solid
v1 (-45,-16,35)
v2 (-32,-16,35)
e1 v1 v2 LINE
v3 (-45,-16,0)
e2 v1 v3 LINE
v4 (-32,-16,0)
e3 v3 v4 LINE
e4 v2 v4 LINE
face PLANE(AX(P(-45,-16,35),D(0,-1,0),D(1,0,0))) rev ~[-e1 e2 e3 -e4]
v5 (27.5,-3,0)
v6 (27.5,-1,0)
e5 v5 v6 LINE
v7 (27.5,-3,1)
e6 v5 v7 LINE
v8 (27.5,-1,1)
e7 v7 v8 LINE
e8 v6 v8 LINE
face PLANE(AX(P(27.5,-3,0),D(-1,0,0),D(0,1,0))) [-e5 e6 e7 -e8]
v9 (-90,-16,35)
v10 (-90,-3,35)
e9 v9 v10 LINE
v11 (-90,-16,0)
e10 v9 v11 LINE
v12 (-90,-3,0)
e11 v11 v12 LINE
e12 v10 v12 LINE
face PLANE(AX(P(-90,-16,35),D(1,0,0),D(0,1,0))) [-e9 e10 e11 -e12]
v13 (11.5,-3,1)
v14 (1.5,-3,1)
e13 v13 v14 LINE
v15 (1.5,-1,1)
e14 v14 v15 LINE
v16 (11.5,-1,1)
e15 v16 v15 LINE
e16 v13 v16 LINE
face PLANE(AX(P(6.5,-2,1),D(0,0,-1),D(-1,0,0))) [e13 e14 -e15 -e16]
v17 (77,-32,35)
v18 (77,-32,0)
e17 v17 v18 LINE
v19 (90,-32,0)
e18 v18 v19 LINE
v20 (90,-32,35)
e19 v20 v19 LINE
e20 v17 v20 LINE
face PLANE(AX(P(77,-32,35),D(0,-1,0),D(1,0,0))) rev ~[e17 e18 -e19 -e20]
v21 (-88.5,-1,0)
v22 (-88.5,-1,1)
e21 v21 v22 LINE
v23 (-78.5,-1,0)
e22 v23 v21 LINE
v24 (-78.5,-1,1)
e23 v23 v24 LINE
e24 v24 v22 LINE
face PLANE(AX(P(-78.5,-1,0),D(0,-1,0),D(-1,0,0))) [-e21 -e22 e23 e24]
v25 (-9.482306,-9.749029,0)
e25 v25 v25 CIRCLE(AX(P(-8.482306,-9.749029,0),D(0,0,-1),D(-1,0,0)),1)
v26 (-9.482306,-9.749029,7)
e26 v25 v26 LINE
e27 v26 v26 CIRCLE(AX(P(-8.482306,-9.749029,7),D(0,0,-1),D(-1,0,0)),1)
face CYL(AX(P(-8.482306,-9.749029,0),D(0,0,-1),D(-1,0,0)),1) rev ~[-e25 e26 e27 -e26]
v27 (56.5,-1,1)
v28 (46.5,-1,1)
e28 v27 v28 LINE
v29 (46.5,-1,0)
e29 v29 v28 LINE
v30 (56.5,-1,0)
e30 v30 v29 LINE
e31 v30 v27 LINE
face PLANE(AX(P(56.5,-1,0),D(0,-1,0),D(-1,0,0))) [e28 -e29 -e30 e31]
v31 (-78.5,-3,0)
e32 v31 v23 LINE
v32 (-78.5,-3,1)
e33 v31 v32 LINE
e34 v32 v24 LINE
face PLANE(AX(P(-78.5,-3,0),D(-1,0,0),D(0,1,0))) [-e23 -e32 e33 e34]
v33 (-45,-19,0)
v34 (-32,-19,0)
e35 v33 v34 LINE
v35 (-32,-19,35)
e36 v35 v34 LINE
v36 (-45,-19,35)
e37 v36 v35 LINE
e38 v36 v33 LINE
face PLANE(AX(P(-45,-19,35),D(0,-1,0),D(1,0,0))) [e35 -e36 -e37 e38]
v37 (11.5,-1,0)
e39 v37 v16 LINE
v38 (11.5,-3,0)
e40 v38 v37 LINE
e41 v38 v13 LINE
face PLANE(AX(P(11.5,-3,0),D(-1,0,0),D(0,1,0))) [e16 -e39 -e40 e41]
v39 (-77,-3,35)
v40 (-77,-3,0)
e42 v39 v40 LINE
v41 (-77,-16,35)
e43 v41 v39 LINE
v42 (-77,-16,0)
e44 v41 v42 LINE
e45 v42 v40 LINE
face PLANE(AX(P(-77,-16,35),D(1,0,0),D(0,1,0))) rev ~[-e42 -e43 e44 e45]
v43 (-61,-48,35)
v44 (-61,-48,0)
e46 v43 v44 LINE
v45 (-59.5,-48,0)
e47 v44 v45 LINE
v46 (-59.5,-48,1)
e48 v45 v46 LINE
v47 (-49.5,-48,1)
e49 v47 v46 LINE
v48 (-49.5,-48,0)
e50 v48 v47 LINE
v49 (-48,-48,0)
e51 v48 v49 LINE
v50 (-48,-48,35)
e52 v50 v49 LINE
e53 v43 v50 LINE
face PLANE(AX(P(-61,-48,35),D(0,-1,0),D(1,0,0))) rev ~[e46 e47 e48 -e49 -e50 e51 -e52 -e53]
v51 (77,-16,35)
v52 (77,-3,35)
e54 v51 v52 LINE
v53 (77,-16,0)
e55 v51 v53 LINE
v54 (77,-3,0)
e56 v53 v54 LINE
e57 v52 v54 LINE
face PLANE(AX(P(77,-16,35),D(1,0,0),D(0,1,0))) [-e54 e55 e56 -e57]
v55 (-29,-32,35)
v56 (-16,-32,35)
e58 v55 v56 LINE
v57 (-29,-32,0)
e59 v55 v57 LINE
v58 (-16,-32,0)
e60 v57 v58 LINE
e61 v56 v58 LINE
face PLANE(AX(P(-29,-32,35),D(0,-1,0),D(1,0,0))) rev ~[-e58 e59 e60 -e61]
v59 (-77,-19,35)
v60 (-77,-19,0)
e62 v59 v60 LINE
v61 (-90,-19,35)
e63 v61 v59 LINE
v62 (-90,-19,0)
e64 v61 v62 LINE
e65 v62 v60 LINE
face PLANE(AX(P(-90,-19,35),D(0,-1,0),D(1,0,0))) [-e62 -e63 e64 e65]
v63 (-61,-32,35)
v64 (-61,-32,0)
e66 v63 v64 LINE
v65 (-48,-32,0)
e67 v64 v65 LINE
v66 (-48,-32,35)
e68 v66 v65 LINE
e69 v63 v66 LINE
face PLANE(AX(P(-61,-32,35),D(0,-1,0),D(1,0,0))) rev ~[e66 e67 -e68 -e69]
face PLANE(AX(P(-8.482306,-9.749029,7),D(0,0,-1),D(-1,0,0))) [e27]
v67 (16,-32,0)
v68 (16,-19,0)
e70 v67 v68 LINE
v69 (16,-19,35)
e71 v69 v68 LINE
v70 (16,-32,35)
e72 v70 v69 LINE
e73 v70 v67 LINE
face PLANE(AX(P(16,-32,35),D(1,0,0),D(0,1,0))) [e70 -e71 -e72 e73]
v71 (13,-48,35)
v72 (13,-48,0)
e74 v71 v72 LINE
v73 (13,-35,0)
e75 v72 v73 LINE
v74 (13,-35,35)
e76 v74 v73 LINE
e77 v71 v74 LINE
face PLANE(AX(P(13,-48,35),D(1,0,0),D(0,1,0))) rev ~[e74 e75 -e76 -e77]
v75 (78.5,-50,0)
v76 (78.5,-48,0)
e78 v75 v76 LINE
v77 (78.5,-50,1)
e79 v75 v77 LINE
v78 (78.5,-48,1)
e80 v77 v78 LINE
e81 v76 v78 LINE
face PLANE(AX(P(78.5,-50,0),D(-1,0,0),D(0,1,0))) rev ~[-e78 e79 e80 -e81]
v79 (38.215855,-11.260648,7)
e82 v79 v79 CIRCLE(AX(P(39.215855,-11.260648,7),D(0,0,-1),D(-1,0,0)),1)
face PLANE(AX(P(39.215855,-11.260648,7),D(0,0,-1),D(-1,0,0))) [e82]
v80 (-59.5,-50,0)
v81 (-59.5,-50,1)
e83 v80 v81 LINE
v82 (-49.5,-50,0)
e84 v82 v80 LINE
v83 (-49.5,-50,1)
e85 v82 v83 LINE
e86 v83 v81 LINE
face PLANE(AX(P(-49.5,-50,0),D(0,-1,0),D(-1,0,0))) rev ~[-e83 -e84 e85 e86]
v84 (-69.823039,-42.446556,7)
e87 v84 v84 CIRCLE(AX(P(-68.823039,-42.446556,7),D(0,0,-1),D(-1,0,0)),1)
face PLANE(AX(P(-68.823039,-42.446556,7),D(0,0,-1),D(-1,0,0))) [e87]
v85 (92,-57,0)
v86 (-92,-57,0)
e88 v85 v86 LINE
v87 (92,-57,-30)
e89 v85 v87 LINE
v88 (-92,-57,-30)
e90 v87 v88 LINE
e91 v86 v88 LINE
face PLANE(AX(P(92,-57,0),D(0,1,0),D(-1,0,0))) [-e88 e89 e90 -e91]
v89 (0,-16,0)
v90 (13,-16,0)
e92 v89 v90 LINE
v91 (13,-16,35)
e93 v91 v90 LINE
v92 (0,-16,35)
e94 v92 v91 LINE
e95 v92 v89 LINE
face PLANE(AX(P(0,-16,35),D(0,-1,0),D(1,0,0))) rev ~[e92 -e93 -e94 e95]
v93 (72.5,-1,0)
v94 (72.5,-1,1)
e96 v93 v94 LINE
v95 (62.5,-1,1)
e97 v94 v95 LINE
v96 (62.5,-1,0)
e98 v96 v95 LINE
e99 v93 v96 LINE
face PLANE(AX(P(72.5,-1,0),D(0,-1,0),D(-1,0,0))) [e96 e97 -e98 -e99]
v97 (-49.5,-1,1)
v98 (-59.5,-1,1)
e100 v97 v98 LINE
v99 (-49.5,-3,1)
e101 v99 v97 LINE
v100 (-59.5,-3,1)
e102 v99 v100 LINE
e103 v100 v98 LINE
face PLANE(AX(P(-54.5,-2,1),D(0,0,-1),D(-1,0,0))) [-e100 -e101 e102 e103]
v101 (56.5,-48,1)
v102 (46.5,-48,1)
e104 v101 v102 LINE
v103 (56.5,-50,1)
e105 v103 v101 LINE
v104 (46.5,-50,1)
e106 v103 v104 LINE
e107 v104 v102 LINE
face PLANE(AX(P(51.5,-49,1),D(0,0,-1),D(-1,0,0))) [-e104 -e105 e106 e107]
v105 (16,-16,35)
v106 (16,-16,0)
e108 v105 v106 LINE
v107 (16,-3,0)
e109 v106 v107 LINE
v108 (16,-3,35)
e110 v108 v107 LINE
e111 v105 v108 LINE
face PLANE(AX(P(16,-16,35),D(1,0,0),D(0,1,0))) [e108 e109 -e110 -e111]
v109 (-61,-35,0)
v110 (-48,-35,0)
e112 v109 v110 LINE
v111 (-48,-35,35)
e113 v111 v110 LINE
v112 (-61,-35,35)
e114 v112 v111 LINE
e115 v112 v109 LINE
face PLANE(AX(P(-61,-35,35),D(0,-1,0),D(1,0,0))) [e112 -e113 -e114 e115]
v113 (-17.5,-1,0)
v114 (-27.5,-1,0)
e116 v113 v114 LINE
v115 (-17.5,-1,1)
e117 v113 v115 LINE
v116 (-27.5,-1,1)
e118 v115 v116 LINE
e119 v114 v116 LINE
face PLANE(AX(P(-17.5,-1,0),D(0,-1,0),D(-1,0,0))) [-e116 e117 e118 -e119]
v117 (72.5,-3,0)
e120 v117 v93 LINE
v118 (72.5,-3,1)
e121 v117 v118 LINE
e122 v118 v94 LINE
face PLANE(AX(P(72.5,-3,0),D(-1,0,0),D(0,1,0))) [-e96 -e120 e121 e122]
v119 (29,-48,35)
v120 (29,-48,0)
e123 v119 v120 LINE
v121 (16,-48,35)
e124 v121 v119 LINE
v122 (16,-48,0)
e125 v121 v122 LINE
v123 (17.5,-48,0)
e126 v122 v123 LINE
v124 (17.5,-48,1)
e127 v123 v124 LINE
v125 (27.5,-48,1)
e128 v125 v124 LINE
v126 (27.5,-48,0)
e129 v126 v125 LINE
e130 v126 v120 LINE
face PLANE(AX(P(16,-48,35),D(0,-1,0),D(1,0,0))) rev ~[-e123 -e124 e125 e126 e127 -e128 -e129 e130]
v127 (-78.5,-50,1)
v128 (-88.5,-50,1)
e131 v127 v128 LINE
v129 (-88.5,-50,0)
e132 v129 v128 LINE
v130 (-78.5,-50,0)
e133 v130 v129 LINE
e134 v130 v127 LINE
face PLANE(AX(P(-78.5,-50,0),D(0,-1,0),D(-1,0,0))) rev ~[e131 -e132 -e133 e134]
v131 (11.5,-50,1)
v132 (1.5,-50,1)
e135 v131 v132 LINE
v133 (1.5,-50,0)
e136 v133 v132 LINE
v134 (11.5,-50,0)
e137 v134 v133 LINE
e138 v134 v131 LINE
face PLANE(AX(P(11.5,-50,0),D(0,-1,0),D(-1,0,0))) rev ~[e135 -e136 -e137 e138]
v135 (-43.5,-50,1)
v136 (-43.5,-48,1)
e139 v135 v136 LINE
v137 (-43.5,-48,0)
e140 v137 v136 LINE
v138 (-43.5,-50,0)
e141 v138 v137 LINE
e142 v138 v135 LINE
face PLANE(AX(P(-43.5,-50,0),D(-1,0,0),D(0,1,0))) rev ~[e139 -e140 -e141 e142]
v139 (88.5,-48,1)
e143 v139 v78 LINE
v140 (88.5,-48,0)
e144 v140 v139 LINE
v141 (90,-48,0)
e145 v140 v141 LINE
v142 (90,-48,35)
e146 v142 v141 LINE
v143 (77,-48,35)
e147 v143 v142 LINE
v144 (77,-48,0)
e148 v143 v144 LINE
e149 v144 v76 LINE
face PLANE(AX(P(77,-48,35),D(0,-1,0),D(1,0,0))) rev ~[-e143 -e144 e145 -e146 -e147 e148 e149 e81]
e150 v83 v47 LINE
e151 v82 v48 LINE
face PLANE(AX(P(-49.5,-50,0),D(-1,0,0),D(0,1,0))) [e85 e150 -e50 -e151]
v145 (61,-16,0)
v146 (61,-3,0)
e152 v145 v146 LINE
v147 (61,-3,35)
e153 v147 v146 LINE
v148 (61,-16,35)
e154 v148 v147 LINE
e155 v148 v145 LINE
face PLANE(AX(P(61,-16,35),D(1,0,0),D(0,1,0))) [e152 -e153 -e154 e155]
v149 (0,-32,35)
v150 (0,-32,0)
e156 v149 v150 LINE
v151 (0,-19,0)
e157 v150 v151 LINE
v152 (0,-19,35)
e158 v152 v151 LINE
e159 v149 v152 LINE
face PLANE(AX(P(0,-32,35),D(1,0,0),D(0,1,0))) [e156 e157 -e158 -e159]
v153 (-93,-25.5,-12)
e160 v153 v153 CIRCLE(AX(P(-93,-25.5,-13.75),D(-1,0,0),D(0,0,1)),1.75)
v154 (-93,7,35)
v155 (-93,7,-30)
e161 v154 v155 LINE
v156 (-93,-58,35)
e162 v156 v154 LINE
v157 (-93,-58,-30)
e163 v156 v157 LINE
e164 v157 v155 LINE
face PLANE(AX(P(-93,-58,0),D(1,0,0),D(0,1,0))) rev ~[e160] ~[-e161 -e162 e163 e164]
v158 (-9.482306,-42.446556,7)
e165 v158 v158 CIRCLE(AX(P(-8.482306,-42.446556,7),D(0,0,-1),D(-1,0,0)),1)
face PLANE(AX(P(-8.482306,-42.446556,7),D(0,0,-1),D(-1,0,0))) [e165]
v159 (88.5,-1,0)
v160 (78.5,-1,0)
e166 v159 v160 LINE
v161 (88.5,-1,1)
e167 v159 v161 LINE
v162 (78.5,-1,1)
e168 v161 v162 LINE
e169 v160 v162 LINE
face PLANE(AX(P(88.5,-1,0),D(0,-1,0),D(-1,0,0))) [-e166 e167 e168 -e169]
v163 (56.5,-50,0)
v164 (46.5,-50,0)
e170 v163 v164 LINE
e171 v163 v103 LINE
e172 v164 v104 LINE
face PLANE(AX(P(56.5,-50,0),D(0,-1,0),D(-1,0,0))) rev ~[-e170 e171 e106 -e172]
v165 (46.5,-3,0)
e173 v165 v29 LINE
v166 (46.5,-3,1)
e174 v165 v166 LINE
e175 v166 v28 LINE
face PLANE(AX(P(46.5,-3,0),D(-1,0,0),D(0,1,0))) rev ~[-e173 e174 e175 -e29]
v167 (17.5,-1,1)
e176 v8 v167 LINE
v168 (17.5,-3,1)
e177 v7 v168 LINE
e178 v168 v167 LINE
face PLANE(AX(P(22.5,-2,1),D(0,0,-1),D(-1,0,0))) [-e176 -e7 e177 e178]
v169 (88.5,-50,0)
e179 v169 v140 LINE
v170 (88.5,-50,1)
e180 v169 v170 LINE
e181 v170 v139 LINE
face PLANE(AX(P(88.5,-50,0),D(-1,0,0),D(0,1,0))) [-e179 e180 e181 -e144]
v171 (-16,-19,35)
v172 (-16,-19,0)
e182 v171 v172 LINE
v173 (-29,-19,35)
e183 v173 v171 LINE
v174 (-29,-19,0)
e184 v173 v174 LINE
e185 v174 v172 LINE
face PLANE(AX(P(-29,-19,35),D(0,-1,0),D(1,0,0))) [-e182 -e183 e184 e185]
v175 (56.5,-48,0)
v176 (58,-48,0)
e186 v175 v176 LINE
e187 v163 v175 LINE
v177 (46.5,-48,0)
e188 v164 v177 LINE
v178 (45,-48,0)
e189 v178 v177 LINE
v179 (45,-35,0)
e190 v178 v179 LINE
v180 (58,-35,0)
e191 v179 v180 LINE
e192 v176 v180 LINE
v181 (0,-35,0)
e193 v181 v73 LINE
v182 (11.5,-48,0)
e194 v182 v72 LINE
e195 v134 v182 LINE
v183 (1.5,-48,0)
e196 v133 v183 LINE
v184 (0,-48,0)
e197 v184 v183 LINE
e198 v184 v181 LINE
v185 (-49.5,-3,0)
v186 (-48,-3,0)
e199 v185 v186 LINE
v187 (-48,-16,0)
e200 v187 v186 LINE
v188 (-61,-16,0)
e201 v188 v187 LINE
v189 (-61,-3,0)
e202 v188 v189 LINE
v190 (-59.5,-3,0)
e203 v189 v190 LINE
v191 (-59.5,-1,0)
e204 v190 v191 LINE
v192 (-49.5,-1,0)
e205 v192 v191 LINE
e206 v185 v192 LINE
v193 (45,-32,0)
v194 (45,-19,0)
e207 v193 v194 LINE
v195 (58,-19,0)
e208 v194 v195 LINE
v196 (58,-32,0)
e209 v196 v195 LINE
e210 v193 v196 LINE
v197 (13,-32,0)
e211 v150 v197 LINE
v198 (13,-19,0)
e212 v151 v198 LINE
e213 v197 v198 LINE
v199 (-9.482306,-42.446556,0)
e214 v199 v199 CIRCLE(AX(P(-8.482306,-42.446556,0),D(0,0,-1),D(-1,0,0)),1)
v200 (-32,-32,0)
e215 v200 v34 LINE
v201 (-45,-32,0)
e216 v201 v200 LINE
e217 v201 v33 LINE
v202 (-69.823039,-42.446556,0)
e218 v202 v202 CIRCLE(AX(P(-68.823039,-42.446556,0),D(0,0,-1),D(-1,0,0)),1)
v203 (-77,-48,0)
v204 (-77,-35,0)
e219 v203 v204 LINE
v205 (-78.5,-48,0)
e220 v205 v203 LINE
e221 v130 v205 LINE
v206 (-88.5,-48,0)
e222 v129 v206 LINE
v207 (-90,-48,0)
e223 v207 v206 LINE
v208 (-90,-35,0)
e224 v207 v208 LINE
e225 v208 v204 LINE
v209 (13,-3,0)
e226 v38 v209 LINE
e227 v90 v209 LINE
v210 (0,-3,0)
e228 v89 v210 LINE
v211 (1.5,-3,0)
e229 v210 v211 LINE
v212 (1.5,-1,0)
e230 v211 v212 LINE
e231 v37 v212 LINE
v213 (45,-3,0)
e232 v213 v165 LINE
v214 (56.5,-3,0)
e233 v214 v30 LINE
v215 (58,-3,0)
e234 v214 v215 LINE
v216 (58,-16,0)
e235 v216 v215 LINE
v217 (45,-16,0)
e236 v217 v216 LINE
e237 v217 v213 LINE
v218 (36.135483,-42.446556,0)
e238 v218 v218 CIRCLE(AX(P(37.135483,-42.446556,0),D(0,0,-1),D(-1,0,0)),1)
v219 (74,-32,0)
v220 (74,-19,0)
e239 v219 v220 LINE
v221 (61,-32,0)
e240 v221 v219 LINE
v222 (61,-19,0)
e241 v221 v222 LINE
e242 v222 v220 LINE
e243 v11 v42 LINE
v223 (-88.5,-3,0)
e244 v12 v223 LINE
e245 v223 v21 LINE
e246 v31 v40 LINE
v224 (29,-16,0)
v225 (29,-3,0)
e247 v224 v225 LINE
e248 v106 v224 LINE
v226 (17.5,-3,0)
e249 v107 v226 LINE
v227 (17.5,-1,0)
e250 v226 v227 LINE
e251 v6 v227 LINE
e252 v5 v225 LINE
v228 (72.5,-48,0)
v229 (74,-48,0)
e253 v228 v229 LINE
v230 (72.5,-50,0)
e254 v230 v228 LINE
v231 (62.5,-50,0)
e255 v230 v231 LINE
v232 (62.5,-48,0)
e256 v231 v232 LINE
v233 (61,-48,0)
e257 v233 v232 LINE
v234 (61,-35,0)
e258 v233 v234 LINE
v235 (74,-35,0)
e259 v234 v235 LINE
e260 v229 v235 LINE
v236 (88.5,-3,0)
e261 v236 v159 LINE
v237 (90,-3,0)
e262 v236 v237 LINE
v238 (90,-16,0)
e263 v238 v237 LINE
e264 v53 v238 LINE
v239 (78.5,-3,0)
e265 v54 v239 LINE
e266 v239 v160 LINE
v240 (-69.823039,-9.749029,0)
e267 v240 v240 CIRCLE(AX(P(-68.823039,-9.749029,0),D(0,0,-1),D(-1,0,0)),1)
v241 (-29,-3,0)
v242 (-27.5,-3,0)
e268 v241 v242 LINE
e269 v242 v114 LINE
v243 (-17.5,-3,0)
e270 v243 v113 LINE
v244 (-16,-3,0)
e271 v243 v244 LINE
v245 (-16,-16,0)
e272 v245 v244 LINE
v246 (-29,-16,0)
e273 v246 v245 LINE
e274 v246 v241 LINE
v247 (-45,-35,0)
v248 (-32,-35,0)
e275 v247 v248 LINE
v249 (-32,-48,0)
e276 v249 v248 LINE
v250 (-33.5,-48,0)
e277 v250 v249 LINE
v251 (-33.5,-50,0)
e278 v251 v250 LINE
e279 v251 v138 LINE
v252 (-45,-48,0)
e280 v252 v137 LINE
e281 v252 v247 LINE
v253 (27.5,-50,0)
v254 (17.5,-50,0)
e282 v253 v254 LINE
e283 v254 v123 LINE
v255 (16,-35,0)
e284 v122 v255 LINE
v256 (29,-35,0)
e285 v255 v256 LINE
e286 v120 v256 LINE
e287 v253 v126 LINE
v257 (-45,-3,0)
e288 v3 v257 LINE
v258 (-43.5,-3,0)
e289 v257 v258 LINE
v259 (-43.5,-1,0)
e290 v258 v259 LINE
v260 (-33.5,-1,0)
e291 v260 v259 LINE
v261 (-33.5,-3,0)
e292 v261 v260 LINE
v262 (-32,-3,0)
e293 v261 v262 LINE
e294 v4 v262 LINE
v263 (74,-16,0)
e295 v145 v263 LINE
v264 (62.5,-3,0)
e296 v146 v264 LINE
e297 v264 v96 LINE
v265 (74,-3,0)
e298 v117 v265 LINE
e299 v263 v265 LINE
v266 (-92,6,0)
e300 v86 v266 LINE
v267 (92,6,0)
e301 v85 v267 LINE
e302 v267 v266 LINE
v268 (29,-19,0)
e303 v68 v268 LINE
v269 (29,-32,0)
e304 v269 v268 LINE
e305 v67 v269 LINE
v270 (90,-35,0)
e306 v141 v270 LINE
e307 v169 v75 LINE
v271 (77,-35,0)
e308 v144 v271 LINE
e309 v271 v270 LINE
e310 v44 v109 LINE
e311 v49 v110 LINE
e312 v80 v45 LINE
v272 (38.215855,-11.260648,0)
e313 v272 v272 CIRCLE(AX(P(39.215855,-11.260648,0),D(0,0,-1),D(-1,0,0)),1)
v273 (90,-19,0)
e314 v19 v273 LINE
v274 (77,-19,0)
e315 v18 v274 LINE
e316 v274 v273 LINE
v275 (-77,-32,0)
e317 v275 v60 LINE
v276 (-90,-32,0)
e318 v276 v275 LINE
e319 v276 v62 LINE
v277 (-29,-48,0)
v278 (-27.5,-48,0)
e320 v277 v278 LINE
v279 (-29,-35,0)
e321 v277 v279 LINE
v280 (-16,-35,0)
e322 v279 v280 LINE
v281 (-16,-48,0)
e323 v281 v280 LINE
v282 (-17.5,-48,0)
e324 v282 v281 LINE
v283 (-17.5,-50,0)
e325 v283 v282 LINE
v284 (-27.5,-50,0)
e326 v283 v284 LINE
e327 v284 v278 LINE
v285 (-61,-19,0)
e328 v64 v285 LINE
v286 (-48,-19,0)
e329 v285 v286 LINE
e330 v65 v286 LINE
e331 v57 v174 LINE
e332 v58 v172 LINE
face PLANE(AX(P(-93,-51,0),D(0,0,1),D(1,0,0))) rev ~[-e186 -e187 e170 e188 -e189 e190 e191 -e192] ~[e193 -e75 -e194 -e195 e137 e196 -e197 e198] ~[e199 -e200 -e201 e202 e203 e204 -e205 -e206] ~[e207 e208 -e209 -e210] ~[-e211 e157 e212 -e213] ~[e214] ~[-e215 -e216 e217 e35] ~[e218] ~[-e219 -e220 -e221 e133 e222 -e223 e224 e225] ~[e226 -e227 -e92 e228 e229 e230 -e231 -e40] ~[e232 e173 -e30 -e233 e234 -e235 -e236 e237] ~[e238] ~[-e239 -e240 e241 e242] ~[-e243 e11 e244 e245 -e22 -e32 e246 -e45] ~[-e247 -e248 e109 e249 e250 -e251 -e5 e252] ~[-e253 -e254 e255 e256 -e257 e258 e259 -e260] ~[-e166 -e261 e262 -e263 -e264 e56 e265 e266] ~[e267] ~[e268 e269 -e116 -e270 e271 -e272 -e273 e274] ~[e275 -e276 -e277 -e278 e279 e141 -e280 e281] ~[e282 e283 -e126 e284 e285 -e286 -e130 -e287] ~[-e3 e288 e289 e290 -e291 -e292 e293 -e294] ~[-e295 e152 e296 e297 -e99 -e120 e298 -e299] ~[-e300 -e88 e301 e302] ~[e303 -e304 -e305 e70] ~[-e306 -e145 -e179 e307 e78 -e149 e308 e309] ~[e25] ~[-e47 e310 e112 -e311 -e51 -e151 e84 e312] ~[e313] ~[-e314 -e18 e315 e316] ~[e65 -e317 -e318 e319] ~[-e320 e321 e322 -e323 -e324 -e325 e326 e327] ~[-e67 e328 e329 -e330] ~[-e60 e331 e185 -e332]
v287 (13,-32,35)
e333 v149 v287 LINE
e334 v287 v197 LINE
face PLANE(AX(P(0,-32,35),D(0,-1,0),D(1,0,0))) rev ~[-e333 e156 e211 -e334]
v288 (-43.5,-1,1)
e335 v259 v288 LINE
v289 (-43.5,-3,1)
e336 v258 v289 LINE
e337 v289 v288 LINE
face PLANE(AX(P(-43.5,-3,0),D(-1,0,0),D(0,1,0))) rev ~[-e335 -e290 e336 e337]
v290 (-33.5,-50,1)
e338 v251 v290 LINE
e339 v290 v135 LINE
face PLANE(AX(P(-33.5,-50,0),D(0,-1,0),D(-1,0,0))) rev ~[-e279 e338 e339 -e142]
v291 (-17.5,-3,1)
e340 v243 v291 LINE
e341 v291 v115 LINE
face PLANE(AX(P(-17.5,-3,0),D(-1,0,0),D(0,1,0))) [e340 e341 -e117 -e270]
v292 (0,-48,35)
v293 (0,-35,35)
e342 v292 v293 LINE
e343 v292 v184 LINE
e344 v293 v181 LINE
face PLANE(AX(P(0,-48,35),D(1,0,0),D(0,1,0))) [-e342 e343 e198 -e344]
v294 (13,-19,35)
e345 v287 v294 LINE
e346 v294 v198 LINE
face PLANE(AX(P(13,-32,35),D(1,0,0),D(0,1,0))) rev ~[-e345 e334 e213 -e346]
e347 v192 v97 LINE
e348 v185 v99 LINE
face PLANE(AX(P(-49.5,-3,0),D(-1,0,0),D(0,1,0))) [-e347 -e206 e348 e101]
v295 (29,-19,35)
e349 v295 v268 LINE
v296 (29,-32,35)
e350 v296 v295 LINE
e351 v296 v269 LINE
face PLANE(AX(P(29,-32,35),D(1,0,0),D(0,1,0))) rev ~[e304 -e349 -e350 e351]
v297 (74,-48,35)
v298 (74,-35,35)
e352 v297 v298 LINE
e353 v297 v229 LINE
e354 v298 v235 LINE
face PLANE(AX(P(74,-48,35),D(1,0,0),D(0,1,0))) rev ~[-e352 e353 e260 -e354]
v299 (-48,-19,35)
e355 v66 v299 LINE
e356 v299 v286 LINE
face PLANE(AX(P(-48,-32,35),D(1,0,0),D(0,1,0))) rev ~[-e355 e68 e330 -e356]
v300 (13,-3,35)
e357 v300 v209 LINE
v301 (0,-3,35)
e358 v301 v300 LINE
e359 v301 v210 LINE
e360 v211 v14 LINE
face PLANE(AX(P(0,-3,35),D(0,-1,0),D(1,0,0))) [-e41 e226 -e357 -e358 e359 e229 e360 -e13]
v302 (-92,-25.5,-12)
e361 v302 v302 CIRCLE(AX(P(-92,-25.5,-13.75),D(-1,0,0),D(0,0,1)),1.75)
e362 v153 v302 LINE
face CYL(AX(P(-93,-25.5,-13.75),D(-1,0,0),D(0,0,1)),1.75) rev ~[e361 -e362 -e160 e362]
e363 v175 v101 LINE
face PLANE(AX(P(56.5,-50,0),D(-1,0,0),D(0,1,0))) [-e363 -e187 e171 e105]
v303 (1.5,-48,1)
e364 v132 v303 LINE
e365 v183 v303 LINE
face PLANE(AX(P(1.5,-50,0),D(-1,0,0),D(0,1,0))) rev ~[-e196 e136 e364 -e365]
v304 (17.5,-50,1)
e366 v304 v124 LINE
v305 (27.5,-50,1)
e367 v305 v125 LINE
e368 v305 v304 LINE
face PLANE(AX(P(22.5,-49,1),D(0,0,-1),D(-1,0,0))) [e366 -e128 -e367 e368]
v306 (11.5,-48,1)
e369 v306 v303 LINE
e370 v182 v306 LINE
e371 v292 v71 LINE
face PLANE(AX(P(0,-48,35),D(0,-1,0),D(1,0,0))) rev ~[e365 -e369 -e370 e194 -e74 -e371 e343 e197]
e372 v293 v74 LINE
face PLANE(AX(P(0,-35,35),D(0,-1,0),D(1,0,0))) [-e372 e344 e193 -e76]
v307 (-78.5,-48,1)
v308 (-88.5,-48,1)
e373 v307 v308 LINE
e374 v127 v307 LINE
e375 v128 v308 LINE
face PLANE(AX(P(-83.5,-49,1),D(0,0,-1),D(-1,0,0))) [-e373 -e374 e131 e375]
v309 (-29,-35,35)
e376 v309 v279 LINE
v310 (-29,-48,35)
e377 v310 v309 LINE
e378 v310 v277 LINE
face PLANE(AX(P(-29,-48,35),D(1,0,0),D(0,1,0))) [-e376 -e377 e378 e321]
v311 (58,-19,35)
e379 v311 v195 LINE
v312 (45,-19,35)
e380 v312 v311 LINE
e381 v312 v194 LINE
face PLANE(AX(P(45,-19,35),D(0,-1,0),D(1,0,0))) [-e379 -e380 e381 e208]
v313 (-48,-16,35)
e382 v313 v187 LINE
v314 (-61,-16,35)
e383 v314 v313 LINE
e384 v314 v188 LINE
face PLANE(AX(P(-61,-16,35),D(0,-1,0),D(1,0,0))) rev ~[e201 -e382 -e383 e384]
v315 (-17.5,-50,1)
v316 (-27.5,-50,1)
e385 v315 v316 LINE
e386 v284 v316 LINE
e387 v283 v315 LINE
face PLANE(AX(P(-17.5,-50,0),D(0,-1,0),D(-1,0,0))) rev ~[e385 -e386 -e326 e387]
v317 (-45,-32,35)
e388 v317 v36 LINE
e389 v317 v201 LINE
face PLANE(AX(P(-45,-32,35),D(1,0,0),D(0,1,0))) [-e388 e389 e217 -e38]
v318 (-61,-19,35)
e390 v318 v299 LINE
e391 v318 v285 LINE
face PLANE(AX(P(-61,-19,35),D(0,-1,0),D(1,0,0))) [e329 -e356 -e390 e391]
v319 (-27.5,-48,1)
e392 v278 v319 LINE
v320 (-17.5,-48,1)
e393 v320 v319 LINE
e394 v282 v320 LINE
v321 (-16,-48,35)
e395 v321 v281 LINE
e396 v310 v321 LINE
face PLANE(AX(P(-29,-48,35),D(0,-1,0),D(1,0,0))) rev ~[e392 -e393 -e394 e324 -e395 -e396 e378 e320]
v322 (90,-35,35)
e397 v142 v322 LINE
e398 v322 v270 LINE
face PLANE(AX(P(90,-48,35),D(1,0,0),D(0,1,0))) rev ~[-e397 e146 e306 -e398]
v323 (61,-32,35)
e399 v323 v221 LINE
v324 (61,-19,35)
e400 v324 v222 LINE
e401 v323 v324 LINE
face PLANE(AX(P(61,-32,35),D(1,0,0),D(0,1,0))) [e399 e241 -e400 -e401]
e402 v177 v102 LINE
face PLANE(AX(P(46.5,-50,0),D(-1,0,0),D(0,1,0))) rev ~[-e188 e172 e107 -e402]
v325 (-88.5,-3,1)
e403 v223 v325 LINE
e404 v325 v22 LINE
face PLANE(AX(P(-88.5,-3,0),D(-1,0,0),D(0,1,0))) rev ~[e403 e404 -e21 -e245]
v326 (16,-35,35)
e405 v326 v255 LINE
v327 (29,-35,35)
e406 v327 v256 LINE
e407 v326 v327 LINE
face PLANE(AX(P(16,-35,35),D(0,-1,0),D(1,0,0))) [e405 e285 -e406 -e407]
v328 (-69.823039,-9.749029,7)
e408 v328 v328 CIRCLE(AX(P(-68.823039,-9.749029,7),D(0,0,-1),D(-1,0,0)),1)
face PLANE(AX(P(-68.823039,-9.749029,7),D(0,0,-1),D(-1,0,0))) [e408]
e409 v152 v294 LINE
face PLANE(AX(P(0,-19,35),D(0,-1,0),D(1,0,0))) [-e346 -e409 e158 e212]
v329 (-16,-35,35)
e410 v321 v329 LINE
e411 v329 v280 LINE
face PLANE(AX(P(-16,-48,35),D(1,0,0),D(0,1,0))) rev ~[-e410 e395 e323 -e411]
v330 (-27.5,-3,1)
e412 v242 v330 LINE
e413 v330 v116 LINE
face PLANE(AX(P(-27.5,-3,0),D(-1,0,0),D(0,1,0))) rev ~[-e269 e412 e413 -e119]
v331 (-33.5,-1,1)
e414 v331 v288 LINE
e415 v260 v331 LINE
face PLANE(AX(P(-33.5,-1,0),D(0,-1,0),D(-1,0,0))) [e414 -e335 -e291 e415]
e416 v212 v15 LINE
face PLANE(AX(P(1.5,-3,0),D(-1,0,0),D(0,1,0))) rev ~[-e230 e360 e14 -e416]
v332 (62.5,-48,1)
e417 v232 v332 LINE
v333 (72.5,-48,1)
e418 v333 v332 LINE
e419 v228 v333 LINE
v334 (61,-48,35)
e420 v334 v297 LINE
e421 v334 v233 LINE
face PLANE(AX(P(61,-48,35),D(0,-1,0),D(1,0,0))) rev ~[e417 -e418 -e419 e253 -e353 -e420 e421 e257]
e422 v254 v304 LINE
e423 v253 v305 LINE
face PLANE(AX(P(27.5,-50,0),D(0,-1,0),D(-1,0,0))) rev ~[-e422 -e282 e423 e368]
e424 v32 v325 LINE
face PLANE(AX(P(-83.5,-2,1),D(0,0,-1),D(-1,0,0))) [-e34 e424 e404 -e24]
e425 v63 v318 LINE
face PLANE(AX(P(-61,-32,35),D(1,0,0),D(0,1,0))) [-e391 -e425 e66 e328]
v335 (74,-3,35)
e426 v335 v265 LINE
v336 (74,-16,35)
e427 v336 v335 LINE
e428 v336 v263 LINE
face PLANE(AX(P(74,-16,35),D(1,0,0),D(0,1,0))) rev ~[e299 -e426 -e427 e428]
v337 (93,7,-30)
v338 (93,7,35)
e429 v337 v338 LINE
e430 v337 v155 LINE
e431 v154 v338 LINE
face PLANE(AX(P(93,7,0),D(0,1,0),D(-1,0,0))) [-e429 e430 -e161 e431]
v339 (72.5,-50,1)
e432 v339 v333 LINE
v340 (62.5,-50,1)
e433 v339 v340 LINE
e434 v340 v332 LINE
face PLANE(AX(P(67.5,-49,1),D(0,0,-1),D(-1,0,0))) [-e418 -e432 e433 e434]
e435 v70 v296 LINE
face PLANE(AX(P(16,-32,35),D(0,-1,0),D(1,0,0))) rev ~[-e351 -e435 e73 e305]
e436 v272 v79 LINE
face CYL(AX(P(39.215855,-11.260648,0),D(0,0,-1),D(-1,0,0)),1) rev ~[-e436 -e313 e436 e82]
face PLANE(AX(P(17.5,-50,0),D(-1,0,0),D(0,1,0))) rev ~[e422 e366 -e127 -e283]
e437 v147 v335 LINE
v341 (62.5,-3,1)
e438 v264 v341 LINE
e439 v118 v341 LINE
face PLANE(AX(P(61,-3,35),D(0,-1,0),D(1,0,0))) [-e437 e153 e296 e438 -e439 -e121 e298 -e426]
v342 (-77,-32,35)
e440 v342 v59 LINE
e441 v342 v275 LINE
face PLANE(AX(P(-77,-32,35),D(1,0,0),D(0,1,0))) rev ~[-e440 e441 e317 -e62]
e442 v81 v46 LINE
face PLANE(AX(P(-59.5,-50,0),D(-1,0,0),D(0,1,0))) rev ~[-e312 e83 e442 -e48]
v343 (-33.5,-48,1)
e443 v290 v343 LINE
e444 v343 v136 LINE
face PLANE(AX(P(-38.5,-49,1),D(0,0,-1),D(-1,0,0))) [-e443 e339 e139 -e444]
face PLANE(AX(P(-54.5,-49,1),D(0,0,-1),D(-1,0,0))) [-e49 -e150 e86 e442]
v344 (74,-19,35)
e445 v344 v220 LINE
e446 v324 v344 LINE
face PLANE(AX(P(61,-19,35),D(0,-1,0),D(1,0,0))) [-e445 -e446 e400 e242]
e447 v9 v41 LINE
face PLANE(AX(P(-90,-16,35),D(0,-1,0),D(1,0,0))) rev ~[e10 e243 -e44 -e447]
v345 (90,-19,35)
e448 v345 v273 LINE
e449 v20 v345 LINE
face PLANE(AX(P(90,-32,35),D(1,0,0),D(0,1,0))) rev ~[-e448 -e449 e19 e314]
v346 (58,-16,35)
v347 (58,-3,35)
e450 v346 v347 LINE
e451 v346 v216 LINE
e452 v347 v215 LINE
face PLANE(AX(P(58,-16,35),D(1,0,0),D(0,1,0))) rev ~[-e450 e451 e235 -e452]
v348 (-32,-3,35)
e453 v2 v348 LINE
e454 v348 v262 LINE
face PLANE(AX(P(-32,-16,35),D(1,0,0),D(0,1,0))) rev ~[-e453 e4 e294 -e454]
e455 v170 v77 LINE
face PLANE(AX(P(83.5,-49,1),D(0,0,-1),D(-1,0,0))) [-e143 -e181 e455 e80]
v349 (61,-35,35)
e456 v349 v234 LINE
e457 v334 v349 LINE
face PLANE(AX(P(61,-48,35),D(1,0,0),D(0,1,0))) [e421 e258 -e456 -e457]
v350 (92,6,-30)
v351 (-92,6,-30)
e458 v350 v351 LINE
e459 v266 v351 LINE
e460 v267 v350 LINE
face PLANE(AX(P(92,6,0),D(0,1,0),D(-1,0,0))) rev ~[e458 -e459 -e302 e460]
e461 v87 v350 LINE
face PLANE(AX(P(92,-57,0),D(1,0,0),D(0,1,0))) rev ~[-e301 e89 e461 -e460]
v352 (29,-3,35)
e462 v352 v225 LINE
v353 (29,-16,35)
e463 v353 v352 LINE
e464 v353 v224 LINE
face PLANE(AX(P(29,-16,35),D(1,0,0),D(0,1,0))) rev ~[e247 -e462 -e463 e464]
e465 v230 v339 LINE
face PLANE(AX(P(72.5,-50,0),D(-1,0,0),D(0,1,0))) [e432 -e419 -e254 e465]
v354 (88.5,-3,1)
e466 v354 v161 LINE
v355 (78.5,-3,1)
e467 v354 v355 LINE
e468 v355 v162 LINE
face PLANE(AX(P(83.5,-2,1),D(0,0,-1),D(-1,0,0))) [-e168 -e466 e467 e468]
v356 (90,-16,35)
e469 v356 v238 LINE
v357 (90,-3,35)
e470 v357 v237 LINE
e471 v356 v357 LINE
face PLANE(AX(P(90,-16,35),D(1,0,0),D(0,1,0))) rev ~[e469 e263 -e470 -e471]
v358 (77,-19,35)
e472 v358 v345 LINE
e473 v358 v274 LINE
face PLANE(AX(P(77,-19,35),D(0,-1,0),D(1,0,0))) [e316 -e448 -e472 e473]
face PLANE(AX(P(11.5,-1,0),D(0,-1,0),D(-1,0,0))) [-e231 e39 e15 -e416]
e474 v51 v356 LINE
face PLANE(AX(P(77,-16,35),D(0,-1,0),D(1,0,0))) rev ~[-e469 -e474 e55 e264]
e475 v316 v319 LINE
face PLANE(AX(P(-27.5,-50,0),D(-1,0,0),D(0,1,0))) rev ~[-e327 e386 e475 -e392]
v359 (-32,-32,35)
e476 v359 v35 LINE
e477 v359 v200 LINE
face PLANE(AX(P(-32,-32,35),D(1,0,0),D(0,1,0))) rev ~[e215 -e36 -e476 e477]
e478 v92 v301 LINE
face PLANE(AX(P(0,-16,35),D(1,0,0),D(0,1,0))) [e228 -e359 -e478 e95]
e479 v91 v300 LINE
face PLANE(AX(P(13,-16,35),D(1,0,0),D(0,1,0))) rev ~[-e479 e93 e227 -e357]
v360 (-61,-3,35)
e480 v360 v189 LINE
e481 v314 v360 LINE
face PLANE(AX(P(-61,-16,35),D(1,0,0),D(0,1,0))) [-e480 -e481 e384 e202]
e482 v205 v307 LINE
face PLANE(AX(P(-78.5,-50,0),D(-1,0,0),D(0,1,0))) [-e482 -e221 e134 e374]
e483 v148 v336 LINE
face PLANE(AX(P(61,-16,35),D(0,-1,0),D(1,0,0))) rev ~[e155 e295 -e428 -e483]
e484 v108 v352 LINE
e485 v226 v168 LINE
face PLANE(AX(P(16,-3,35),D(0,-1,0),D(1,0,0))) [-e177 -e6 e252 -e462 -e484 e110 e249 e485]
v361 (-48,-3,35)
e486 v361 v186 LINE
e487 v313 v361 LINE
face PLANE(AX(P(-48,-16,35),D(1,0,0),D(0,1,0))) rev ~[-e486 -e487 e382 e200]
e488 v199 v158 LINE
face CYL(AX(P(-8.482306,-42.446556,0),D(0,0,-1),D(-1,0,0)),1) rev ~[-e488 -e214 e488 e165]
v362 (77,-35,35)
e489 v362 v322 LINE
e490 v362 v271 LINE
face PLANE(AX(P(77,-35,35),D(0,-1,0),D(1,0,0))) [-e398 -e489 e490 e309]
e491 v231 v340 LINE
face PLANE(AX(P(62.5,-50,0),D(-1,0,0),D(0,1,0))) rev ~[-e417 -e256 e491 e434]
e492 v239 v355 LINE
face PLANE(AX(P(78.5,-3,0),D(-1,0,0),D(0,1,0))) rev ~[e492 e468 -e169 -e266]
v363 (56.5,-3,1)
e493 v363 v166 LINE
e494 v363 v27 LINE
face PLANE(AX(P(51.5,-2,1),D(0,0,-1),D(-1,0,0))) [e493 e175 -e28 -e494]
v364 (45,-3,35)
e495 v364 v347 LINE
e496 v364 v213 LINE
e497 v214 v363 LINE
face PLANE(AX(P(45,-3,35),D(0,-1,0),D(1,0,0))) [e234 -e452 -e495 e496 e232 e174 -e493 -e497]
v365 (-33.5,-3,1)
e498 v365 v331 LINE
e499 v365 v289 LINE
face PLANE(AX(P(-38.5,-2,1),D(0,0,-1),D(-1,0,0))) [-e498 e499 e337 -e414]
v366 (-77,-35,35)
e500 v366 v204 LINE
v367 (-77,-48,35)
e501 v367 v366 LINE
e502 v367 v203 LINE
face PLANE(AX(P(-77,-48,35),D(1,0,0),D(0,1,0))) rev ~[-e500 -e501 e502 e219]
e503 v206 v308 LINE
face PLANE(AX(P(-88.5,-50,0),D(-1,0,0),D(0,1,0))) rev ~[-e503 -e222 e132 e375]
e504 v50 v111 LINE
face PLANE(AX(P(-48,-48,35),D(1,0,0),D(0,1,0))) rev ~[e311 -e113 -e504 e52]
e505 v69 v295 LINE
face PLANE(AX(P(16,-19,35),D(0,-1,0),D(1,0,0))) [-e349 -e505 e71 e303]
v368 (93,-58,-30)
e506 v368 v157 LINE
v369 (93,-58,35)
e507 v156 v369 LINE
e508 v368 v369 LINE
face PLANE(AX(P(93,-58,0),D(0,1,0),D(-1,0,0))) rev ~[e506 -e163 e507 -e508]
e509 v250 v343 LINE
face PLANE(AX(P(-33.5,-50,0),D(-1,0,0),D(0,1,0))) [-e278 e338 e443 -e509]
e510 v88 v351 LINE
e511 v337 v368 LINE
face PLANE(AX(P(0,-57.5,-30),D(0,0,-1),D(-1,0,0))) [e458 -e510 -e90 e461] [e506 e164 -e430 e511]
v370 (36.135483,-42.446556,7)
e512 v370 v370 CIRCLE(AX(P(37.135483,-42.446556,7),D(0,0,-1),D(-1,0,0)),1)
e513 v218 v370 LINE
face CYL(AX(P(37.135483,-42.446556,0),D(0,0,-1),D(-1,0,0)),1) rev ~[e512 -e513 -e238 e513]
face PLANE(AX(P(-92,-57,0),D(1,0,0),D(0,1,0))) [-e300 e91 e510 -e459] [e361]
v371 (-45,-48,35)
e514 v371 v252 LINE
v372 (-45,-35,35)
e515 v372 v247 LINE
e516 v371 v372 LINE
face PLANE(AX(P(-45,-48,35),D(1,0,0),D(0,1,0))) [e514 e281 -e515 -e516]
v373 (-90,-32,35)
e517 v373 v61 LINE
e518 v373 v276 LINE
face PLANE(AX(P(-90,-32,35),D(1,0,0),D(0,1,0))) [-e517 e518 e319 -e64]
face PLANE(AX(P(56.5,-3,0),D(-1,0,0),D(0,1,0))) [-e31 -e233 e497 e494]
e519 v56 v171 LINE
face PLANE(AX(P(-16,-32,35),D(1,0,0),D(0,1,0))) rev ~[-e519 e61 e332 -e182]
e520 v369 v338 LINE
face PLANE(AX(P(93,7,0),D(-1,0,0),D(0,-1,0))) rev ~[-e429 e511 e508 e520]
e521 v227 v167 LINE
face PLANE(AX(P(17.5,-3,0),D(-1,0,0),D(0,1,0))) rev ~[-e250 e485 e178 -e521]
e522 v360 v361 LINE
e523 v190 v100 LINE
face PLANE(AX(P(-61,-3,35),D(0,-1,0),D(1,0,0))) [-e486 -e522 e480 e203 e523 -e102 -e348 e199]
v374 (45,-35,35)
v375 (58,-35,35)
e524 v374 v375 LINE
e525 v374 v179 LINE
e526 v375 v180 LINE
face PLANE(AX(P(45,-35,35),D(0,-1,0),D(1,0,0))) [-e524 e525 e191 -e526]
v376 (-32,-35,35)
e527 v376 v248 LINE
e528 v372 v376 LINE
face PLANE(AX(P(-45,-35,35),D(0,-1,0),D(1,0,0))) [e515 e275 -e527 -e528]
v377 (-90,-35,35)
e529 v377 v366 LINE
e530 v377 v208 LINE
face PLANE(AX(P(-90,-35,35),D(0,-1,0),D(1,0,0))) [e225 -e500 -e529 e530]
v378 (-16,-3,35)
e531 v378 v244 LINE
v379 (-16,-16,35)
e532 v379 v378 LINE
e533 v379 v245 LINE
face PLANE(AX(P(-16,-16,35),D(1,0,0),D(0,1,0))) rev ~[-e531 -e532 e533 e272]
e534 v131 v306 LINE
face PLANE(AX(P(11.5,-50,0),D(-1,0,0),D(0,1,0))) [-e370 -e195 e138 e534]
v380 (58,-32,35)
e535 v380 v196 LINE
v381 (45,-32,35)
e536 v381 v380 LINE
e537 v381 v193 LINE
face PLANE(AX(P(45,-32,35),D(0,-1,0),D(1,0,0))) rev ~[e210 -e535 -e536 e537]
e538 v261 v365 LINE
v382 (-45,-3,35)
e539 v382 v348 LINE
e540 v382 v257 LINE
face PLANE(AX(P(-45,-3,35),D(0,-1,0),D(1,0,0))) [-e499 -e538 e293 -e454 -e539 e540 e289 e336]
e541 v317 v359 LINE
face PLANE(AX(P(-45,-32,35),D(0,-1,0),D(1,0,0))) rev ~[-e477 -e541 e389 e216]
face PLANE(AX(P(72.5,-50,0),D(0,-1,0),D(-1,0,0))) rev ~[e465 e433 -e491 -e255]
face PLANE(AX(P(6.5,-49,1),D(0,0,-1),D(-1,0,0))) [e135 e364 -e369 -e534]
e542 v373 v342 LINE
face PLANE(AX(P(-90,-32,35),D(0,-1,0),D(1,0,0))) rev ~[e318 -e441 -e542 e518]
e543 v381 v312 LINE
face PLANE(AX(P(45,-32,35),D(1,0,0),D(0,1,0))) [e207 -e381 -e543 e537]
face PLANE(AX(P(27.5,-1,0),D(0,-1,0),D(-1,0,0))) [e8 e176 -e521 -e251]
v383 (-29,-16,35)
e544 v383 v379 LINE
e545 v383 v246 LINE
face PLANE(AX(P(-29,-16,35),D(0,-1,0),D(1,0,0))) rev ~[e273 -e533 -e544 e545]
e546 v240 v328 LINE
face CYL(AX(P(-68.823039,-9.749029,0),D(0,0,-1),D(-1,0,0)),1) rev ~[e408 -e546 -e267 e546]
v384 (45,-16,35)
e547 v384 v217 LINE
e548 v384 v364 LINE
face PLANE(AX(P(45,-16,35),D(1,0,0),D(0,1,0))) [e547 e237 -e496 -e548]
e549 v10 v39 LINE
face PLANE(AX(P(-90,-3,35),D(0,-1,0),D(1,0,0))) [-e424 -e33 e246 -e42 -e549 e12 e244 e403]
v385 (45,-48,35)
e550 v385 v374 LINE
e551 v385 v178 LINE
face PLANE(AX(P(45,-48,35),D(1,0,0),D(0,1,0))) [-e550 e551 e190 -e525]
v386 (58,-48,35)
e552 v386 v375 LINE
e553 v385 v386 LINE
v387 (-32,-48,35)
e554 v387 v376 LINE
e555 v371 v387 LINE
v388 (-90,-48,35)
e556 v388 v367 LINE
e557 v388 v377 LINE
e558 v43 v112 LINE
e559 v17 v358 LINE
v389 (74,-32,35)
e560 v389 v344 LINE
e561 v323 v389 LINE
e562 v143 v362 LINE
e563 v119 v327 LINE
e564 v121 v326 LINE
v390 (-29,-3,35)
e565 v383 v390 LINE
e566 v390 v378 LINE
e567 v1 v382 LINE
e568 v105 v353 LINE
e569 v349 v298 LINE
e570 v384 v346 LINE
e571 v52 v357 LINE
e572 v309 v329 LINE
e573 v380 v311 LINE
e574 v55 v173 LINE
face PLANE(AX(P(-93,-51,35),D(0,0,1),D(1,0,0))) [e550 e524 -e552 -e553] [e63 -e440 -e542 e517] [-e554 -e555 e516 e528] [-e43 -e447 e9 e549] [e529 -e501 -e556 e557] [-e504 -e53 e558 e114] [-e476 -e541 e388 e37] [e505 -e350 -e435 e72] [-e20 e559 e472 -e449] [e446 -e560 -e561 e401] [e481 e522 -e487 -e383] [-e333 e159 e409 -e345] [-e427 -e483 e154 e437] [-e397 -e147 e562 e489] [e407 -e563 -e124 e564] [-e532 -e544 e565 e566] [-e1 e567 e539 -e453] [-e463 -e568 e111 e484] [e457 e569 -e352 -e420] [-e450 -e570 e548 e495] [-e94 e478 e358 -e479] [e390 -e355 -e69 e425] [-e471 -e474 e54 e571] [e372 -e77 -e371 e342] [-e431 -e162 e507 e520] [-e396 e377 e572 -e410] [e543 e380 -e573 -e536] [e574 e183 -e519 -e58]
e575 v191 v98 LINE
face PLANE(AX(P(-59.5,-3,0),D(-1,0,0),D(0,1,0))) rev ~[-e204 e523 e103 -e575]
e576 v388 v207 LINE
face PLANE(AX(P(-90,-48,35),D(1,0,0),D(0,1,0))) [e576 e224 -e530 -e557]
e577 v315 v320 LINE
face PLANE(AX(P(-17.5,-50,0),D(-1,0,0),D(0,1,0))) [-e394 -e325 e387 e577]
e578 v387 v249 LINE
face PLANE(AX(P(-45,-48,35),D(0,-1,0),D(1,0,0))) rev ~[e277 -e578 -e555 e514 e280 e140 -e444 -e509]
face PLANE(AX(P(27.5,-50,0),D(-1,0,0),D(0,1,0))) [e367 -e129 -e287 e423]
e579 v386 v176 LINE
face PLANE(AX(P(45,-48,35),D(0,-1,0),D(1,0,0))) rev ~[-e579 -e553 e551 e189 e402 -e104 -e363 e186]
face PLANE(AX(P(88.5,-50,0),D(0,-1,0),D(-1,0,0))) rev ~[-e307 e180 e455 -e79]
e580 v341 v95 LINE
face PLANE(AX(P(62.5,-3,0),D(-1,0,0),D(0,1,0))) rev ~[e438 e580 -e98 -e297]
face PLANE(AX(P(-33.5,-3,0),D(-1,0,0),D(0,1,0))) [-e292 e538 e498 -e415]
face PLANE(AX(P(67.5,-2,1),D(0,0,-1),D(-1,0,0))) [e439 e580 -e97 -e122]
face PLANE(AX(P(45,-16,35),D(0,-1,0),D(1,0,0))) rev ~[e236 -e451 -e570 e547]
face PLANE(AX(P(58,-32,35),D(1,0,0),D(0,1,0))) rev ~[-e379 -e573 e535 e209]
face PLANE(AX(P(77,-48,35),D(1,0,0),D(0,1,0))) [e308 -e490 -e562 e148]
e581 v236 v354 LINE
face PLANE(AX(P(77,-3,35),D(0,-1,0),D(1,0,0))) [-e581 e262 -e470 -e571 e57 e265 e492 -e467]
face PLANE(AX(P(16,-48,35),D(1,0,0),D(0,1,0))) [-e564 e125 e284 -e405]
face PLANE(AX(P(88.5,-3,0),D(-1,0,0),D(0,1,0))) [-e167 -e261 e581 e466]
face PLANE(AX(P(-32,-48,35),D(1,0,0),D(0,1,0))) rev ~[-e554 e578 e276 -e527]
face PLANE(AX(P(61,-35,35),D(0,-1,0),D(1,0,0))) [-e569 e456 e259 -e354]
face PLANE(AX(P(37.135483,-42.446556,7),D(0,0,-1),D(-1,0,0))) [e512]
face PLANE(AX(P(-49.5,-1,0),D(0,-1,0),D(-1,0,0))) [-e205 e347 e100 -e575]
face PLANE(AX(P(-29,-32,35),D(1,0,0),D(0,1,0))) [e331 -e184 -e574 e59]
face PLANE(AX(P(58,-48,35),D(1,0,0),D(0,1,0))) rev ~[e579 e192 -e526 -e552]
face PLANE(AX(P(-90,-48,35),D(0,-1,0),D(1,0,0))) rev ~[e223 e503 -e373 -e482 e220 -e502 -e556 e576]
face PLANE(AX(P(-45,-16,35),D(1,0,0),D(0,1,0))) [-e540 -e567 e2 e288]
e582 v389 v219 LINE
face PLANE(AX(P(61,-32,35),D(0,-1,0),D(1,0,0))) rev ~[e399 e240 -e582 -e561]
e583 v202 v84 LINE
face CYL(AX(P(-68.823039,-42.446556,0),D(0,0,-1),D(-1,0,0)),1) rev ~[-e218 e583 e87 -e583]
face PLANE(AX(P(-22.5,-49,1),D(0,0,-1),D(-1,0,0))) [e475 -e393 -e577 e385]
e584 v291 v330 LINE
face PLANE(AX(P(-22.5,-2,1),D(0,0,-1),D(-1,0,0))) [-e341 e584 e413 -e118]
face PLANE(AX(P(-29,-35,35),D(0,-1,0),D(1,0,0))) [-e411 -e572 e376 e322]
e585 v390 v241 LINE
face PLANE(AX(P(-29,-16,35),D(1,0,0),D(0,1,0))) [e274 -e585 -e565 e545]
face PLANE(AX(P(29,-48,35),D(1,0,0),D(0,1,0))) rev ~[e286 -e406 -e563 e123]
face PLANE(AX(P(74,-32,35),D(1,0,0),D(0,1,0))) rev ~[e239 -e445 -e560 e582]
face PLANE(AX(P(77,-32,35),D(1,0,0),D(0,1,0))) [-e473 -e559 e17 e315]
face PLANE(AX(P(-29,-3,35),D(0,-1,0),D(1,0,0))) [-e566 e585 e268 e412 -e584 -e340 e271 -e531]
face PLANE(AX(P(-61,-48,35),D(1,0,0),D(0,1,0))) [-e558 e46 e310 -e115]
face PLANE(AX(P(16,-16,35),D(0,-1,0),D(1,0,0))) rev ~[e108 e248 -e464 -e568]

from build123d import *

# Parameters (mm, degrees)
ESQUISSE1_W                     = 186
ESQUISSE1_H                     = 51
BOSS_EXTRU_1_DEPTH              = 35
ESQUISSE7_W                     = 13
ESQUISSE7_H                     = 13
ENL_V_MAT_EXTRU_5_DEPTH         = 91
R_P_TITION_LIN_AIRE5_COUNT      = 3
R_P_TITION_LIN_AIRE5_PITCH      = 16
ESQUISSE8_W                     = 13
ESQUISSE8_H                     = 13
ENL_V_MAT_EXTRU_6_DEPTH         = 103
R_P_TITION_LIN_AIRE6_COUNT      = 3
R_P_TITION_LIN_AIRE6_PITCH      = 16
R_P_TITION_LIN_AIRE6_COUNT_DIR2 = 3
R_P_TITION_LIN_AIRE6_PITCH_DIR2 = 16
ESQUISSE9_W                     = 13
ESQUISSE9_H                     = 13
ENL_V_MAT_EXTRU_7_DEPTH         = 77
R_P_TITION_LIN_AIRE7_COUNT      = 3
R_P_TITION_LIN_AIRE7_PITCH      = 16
R_P_TITION_LIN_AIRE7_COUNT_DIR2 = 2
R_P_TITION_LIN_AIRE7_PITCH_DIR2 = 16
ESQUISSE10_W                    = 13
ESQUISSE10_H                    = 13
ENL_V_MAT_EXTRU_8_DEPTH         = 78
R_P_TITION_LIN_AIRE8_COUNT      = 3
R_P_TITION_LIN_AIRE8_PITCH      = 16
R_P_TITION_LIN_AIRE8_COUNT_DIR2 = 3
R_P_TITION_LIN_AIRE8_PITCH_DIR2 = 16
ESQUISSE14_W                    = 10
ESQUISSE14_H                    = 5
BOSS_EXTRU_3_DEPTH              = 7
ESQUISSE25_W                    = 186
ESQUISSE25_H                    = 35
BOSS_EXTRU_7_DEPTH              = 7
ESQUISSE18_W                    = 186
ESQUISSE18_H                    = 35
BOSS_EXTRU_5_DEPTH              = 7
ESQUISSE15_R                    = 1
ENL_V_MAT_EXTRU_10_DEPTH        = 7
ESQUISSE24_W                    = 10
ESQUISSE24_H                    = 2
ENL_V_MAT_EXTRU_12_DEPTH        = 1
ESQUISSE19_W                    = 186
ESQUISSE19_H                    = 1
ESQUISSE19_W_2                  = 1
ESQUISSE19_H_2                  = 63
BOSS_EXTRU_8_DEPTH              = 30
ESQUISSE26_R                    = 1.75
ENL_V_MAT_EXTRU_14_DEPTH        = 30


with BuildPart() as part:
    # Esquisse1 → Boss.-Extru.1 (new body)
    with BuildSketch(Plane.XY):
        with Locations((0, -25.5)):
            Rectangle(ESQUISSE1_W, ESQUISSE1_H)
    extrude(amount=BOSS_EXTRU_1_DEPTH)

    # Esquisse7 → Enlèv. mat.-Extru.5 (cut)
    with BuildSketch(Plane.XY.offset(35)):
        with Locations((-83.5, -9.5)):
            Rectangle(ESQUISSE7_W, ESQUISSE7_H)
    enl_v_mat_extru_5 = extrude(amount=-ENL_V_MAT_EXTRU_5_DEPTH, mode=Mode.SUBTRACT)

    # Répétition linéaire5: Enlèv. mat.-Extru.5 ×3
    with Locations(*[(0, -i * R_P_TITION_LIN_AIRE5_PITCH, 0) for i in range(1, R_P_TITION_LIN_AIRE5_COUNT)]):
        add(enl_v_mat_extru_5, mode=Mode.SUBTRACT)

    # Esquisse8 → Enlèv. mat.-Extru.6 (cut)
    with BuildSketch(Plane.XY.offset(35)):
        with Locations((-54.5, -9.5)):
            Rectangle(ESQUISSE8_W, ESQUISSE8_H)
    enl_v_mat_extru_6 = extrude(amount=-ENL_V_MAT_EXTRU_6_DEPTH, mode=Mode.SUBTRACT)

    # Répétition linéaire6: Enl_v. mat.-Extru.6 3 × 3
    with Locations(*[(j * R_P_TITION_LIN_AIRE6_PITCH_DIR2, -i * R_P_TITION_LIN_AIRE6_PITCH, 0) for i in range(R_P_TITION_LIN_AIRE6_COUNT) for j in range(R_P_TITION_LIN_AIRE6_COUNT_DIR2) if (i, j) != (0, 0)]):
        add(enl_v_mat_extru_6, mode=Mode.SUBTRACT)

    # Esquisse9 → Enlèv. mat.-Extru.7 (cut)
    with BuildSketch(Plane.XY.offset(35)):
        with Locations((6.5, -9.5)):
            Rectangle(ESQUISSE9_W, ESQUISSE9_H)
    enl_v_mat_extru_7 = extrude(amount=-ENL_V_MAT_EXTRU_7_DEPTH, mode=Mode.SUBTRACT)

    # Répétition linéaire7: Enl_v. mat.-Extru.7 3 × 2
    with Locations(*[(j * R_P_TITION_LIN_AIRE7_PITCH_DIR2, -i * R_P_TITION_LIN_AIRE7_PITCH, 0) for i in range(R_P_TITION_LIN_AIRE7_COUNT) for j in range(R_P_TITION_LIN_AIRE7_COUNT_DIR2) if (i, j) != (0, 0)]):
        add(enl_v_mat_extru_7, mode=Mode.SUBTRACT)

    # Esquisse10 → Enlèv. mat.-Extru.8 (cut)
    with BuildSketch(Plane.XY.offset(35)):
        with Locations((51.5, -9.5)):
            Rectangle(ESQUISSE10_W, ESQUISSE10_H)
    enl_v_mat_extru_8 = extrude(amount=-ENL_V_MAT_EXTRU_8_DEPTH, mode=Mode.SUBTRACT)

    # Répétition linéaire8: Enl_v. mat.-Extru.8 3 × 3
    with Locations(*[(i * R_P_TITION_LIN_AIRE8_PITCH, -j * R_P_TITION_LIN_AIRE8_PITCH_DIR2, 0) for i in range(R_P_TITION_LIN_AIRE8_COUNT) for j in range(R_P_TITION_LIN_AIRE8_COUNT_DIR2) if (i, j) != (0, 0)]):
        add(enl_v_mat_extru_8, mode=Mode.SUBTRACT)

    # Esquisse14 → Boss.-Extru.3 (add)
    with BuildSketch(Plane.XZ.offset(51)):
        with Locations((-7.663083533, 2.5)):
            Rectangle(ESQUISSE14_W, ESQUISSE14_H)
    extrude(amount=BOSS_EXTRU_3_DEPTH)

    # Esquisse25 → Boss.-Extru.7 (add)
    with BuildSketch(Plane(origin=(0, 0, 0), x_dir=(1, 0, 0), z_dir=(0, 1, 0))):
        with Locations((0, -17.5)):
            Rectangle(ESQUISSE25_W, ESQUISSE25_H)
    extrude(amount=BOSS_EXTRU_7_DEPTH)

    # Esquisse18 → Boss.-Extru.5 (add)
    with BuildSketch(Plane.XZ.offset(51)):
        with Locations((0, 17.5)):
            Rectangle(ESQUISSE18_W, ESQUISSE18_H)
    extrude(amount=BOSS_EXTRU_5_DEPTH)

    # Esquisse15 → Enlèv. mat.-Extru.10 (cut)
    with BuildSketch(Plane(origin=(0, 0, 0), x_dir=(-1, 0, 0), z_dir=(0, 0, -1))):
        with Locations((8.482305804, -42.446555864)):
            Circle(ESQUISSE15_R)
        with Locations((8.482305804, -9.749028666)):
            Circle(ESQUISSE15_R)
        with Locations((68.823038652, -42.446555864)):
            Circle(ESQUISSE15_R)
        with Locations((68.823038652, -9.749028666)):
            Circle(ESQUISSE15_R)
        with Locations((-37.13548256, -42.446555864)):
            Circle(ESQUISSE15_R)
        with Locations((-39.215855023, -11.260648292)):
            Circle(ESQUISSE15_R)
    extrude(amount=-ENL_V_MAT_EXTRU_10_DEPTH, mode=Mode.SUBTRACT)

    # Esquisse24 → Enlèv. mat.-Extru.12 (cut)
    with BuildSketch(Plane(origin=(0, 0, 0), x_dir=(-1, 0, 0), z_dir=(0, 0, -1))):
        with Locations((83.5, -49)):
            Rectangle(ESQUISSE24_W, ESQUISSE24_H)
        with Locations((54.5, -49)):
            Rectangle(ESQUISSE24_W, ESQUISSE24_H)
        with Locations((38.5, -49)):
            Rectangle(ESQUISSE24_W, ESQUISSE24_H)
        with Locations((22.5, -49)):
            Rectangle(ESQUISSE24_W, ESQUISSE24_H)
        with Locations((-6.5, -49)):
            Rectangle(ESQUISSE24_W, ESQUISSE24_H)
        with Locations((-22.5, -49)):
            Rectangle(ESQUISSE24_W, ESQUISSE24_H)
        with Locations((-51.5, -49)):
            Rectangle(ESQUISSE24_W, ESQUISSE24_H)
        with Locations((-67.5, -49)):
            Rectangle(ESQUISSE24_W, ESQUISSE24_H)
        with Locations((-83.5, -49)):
            Rectangle(ESQUISSE24_W, ESQUISSE24_H)
        with Locations((-83.5, -2)):
            Rectangle(ESQUISSE24_W, ESQUISSE24_H)
        with Locations((-67.5, -2)):
            Rectangle(ESQUISSE24_W, ESQUISSE24_H)
        with Locations((-51.5, -2)):
            Rectangle(ESQUISSE24_W, ESQUISSE24_H)
        with Locations((-22.5, -2)):
            Rectangle(ESQUISSE24_W, ESQUISSE24_H)
        with Locations((-6.5, -2)):
            Rectangle(ESQUISSE24_W, ESQUISSE24_H)
        with Locations((22.5, -2)):
            Rectangle(ESQUISSE24_W, ESQUISSE24_H)
        with Locations((38.5, -2)):
            Rectangle(ESQUISSE24_W, ESQUISSE24_H)
        with Locations((54.5, -2)):
            Rectangle(ESQUISSE24_W, ESQUISSE24_H)
        with Locations((83.5, -2)):
            Rectangle(ESQUISSE24_W, ESQUISSE24_H)
    extrude(amount=-ENL_V_MAT_EXTRU_12_DEPTH, mode=Mode.SUBTRACT)

    # Esquisse19 → Boss.-Extru.8 (add)
    with BuildSketch(Plane(origin=(0, 0, 0), x_dir=(-1, 0, 0), z_dir=(0, 0, -1))):
        with Locations((0, -57.5)):
            Rectangle(ESQUISSE19_W, ESQUISSE19_H)
        with Locations((92.5, -25.5)):
            Rectangle(ESQUISSE19_W_2, ESQUISSE19_H_2)
        with Locations((0, 6.5)):
            Rectangle(ESQUISSE19_W, ESQUISSE19_H)
        with Locations((-92.5, -25.5)):
            Rectangle(ESQUISSE19_W_2, ESQUISSE19_H_2)
    extrude(amount=BOSS_EXTRU_8_DEPTH)

    # Esquisse26 → Enlèv. mat.-Extru.14 (cut)
    with BuildSketch(Plane.ZY.offset(93)):
        with Locations((-13.75, -25.5)):
            Circle(ESQUISSE26_R)
    extrude(amount=-ENL_V_MAT_EXTRU_14_DEPTH, mode=Mode.SUBTRACT)


solid = part.part
